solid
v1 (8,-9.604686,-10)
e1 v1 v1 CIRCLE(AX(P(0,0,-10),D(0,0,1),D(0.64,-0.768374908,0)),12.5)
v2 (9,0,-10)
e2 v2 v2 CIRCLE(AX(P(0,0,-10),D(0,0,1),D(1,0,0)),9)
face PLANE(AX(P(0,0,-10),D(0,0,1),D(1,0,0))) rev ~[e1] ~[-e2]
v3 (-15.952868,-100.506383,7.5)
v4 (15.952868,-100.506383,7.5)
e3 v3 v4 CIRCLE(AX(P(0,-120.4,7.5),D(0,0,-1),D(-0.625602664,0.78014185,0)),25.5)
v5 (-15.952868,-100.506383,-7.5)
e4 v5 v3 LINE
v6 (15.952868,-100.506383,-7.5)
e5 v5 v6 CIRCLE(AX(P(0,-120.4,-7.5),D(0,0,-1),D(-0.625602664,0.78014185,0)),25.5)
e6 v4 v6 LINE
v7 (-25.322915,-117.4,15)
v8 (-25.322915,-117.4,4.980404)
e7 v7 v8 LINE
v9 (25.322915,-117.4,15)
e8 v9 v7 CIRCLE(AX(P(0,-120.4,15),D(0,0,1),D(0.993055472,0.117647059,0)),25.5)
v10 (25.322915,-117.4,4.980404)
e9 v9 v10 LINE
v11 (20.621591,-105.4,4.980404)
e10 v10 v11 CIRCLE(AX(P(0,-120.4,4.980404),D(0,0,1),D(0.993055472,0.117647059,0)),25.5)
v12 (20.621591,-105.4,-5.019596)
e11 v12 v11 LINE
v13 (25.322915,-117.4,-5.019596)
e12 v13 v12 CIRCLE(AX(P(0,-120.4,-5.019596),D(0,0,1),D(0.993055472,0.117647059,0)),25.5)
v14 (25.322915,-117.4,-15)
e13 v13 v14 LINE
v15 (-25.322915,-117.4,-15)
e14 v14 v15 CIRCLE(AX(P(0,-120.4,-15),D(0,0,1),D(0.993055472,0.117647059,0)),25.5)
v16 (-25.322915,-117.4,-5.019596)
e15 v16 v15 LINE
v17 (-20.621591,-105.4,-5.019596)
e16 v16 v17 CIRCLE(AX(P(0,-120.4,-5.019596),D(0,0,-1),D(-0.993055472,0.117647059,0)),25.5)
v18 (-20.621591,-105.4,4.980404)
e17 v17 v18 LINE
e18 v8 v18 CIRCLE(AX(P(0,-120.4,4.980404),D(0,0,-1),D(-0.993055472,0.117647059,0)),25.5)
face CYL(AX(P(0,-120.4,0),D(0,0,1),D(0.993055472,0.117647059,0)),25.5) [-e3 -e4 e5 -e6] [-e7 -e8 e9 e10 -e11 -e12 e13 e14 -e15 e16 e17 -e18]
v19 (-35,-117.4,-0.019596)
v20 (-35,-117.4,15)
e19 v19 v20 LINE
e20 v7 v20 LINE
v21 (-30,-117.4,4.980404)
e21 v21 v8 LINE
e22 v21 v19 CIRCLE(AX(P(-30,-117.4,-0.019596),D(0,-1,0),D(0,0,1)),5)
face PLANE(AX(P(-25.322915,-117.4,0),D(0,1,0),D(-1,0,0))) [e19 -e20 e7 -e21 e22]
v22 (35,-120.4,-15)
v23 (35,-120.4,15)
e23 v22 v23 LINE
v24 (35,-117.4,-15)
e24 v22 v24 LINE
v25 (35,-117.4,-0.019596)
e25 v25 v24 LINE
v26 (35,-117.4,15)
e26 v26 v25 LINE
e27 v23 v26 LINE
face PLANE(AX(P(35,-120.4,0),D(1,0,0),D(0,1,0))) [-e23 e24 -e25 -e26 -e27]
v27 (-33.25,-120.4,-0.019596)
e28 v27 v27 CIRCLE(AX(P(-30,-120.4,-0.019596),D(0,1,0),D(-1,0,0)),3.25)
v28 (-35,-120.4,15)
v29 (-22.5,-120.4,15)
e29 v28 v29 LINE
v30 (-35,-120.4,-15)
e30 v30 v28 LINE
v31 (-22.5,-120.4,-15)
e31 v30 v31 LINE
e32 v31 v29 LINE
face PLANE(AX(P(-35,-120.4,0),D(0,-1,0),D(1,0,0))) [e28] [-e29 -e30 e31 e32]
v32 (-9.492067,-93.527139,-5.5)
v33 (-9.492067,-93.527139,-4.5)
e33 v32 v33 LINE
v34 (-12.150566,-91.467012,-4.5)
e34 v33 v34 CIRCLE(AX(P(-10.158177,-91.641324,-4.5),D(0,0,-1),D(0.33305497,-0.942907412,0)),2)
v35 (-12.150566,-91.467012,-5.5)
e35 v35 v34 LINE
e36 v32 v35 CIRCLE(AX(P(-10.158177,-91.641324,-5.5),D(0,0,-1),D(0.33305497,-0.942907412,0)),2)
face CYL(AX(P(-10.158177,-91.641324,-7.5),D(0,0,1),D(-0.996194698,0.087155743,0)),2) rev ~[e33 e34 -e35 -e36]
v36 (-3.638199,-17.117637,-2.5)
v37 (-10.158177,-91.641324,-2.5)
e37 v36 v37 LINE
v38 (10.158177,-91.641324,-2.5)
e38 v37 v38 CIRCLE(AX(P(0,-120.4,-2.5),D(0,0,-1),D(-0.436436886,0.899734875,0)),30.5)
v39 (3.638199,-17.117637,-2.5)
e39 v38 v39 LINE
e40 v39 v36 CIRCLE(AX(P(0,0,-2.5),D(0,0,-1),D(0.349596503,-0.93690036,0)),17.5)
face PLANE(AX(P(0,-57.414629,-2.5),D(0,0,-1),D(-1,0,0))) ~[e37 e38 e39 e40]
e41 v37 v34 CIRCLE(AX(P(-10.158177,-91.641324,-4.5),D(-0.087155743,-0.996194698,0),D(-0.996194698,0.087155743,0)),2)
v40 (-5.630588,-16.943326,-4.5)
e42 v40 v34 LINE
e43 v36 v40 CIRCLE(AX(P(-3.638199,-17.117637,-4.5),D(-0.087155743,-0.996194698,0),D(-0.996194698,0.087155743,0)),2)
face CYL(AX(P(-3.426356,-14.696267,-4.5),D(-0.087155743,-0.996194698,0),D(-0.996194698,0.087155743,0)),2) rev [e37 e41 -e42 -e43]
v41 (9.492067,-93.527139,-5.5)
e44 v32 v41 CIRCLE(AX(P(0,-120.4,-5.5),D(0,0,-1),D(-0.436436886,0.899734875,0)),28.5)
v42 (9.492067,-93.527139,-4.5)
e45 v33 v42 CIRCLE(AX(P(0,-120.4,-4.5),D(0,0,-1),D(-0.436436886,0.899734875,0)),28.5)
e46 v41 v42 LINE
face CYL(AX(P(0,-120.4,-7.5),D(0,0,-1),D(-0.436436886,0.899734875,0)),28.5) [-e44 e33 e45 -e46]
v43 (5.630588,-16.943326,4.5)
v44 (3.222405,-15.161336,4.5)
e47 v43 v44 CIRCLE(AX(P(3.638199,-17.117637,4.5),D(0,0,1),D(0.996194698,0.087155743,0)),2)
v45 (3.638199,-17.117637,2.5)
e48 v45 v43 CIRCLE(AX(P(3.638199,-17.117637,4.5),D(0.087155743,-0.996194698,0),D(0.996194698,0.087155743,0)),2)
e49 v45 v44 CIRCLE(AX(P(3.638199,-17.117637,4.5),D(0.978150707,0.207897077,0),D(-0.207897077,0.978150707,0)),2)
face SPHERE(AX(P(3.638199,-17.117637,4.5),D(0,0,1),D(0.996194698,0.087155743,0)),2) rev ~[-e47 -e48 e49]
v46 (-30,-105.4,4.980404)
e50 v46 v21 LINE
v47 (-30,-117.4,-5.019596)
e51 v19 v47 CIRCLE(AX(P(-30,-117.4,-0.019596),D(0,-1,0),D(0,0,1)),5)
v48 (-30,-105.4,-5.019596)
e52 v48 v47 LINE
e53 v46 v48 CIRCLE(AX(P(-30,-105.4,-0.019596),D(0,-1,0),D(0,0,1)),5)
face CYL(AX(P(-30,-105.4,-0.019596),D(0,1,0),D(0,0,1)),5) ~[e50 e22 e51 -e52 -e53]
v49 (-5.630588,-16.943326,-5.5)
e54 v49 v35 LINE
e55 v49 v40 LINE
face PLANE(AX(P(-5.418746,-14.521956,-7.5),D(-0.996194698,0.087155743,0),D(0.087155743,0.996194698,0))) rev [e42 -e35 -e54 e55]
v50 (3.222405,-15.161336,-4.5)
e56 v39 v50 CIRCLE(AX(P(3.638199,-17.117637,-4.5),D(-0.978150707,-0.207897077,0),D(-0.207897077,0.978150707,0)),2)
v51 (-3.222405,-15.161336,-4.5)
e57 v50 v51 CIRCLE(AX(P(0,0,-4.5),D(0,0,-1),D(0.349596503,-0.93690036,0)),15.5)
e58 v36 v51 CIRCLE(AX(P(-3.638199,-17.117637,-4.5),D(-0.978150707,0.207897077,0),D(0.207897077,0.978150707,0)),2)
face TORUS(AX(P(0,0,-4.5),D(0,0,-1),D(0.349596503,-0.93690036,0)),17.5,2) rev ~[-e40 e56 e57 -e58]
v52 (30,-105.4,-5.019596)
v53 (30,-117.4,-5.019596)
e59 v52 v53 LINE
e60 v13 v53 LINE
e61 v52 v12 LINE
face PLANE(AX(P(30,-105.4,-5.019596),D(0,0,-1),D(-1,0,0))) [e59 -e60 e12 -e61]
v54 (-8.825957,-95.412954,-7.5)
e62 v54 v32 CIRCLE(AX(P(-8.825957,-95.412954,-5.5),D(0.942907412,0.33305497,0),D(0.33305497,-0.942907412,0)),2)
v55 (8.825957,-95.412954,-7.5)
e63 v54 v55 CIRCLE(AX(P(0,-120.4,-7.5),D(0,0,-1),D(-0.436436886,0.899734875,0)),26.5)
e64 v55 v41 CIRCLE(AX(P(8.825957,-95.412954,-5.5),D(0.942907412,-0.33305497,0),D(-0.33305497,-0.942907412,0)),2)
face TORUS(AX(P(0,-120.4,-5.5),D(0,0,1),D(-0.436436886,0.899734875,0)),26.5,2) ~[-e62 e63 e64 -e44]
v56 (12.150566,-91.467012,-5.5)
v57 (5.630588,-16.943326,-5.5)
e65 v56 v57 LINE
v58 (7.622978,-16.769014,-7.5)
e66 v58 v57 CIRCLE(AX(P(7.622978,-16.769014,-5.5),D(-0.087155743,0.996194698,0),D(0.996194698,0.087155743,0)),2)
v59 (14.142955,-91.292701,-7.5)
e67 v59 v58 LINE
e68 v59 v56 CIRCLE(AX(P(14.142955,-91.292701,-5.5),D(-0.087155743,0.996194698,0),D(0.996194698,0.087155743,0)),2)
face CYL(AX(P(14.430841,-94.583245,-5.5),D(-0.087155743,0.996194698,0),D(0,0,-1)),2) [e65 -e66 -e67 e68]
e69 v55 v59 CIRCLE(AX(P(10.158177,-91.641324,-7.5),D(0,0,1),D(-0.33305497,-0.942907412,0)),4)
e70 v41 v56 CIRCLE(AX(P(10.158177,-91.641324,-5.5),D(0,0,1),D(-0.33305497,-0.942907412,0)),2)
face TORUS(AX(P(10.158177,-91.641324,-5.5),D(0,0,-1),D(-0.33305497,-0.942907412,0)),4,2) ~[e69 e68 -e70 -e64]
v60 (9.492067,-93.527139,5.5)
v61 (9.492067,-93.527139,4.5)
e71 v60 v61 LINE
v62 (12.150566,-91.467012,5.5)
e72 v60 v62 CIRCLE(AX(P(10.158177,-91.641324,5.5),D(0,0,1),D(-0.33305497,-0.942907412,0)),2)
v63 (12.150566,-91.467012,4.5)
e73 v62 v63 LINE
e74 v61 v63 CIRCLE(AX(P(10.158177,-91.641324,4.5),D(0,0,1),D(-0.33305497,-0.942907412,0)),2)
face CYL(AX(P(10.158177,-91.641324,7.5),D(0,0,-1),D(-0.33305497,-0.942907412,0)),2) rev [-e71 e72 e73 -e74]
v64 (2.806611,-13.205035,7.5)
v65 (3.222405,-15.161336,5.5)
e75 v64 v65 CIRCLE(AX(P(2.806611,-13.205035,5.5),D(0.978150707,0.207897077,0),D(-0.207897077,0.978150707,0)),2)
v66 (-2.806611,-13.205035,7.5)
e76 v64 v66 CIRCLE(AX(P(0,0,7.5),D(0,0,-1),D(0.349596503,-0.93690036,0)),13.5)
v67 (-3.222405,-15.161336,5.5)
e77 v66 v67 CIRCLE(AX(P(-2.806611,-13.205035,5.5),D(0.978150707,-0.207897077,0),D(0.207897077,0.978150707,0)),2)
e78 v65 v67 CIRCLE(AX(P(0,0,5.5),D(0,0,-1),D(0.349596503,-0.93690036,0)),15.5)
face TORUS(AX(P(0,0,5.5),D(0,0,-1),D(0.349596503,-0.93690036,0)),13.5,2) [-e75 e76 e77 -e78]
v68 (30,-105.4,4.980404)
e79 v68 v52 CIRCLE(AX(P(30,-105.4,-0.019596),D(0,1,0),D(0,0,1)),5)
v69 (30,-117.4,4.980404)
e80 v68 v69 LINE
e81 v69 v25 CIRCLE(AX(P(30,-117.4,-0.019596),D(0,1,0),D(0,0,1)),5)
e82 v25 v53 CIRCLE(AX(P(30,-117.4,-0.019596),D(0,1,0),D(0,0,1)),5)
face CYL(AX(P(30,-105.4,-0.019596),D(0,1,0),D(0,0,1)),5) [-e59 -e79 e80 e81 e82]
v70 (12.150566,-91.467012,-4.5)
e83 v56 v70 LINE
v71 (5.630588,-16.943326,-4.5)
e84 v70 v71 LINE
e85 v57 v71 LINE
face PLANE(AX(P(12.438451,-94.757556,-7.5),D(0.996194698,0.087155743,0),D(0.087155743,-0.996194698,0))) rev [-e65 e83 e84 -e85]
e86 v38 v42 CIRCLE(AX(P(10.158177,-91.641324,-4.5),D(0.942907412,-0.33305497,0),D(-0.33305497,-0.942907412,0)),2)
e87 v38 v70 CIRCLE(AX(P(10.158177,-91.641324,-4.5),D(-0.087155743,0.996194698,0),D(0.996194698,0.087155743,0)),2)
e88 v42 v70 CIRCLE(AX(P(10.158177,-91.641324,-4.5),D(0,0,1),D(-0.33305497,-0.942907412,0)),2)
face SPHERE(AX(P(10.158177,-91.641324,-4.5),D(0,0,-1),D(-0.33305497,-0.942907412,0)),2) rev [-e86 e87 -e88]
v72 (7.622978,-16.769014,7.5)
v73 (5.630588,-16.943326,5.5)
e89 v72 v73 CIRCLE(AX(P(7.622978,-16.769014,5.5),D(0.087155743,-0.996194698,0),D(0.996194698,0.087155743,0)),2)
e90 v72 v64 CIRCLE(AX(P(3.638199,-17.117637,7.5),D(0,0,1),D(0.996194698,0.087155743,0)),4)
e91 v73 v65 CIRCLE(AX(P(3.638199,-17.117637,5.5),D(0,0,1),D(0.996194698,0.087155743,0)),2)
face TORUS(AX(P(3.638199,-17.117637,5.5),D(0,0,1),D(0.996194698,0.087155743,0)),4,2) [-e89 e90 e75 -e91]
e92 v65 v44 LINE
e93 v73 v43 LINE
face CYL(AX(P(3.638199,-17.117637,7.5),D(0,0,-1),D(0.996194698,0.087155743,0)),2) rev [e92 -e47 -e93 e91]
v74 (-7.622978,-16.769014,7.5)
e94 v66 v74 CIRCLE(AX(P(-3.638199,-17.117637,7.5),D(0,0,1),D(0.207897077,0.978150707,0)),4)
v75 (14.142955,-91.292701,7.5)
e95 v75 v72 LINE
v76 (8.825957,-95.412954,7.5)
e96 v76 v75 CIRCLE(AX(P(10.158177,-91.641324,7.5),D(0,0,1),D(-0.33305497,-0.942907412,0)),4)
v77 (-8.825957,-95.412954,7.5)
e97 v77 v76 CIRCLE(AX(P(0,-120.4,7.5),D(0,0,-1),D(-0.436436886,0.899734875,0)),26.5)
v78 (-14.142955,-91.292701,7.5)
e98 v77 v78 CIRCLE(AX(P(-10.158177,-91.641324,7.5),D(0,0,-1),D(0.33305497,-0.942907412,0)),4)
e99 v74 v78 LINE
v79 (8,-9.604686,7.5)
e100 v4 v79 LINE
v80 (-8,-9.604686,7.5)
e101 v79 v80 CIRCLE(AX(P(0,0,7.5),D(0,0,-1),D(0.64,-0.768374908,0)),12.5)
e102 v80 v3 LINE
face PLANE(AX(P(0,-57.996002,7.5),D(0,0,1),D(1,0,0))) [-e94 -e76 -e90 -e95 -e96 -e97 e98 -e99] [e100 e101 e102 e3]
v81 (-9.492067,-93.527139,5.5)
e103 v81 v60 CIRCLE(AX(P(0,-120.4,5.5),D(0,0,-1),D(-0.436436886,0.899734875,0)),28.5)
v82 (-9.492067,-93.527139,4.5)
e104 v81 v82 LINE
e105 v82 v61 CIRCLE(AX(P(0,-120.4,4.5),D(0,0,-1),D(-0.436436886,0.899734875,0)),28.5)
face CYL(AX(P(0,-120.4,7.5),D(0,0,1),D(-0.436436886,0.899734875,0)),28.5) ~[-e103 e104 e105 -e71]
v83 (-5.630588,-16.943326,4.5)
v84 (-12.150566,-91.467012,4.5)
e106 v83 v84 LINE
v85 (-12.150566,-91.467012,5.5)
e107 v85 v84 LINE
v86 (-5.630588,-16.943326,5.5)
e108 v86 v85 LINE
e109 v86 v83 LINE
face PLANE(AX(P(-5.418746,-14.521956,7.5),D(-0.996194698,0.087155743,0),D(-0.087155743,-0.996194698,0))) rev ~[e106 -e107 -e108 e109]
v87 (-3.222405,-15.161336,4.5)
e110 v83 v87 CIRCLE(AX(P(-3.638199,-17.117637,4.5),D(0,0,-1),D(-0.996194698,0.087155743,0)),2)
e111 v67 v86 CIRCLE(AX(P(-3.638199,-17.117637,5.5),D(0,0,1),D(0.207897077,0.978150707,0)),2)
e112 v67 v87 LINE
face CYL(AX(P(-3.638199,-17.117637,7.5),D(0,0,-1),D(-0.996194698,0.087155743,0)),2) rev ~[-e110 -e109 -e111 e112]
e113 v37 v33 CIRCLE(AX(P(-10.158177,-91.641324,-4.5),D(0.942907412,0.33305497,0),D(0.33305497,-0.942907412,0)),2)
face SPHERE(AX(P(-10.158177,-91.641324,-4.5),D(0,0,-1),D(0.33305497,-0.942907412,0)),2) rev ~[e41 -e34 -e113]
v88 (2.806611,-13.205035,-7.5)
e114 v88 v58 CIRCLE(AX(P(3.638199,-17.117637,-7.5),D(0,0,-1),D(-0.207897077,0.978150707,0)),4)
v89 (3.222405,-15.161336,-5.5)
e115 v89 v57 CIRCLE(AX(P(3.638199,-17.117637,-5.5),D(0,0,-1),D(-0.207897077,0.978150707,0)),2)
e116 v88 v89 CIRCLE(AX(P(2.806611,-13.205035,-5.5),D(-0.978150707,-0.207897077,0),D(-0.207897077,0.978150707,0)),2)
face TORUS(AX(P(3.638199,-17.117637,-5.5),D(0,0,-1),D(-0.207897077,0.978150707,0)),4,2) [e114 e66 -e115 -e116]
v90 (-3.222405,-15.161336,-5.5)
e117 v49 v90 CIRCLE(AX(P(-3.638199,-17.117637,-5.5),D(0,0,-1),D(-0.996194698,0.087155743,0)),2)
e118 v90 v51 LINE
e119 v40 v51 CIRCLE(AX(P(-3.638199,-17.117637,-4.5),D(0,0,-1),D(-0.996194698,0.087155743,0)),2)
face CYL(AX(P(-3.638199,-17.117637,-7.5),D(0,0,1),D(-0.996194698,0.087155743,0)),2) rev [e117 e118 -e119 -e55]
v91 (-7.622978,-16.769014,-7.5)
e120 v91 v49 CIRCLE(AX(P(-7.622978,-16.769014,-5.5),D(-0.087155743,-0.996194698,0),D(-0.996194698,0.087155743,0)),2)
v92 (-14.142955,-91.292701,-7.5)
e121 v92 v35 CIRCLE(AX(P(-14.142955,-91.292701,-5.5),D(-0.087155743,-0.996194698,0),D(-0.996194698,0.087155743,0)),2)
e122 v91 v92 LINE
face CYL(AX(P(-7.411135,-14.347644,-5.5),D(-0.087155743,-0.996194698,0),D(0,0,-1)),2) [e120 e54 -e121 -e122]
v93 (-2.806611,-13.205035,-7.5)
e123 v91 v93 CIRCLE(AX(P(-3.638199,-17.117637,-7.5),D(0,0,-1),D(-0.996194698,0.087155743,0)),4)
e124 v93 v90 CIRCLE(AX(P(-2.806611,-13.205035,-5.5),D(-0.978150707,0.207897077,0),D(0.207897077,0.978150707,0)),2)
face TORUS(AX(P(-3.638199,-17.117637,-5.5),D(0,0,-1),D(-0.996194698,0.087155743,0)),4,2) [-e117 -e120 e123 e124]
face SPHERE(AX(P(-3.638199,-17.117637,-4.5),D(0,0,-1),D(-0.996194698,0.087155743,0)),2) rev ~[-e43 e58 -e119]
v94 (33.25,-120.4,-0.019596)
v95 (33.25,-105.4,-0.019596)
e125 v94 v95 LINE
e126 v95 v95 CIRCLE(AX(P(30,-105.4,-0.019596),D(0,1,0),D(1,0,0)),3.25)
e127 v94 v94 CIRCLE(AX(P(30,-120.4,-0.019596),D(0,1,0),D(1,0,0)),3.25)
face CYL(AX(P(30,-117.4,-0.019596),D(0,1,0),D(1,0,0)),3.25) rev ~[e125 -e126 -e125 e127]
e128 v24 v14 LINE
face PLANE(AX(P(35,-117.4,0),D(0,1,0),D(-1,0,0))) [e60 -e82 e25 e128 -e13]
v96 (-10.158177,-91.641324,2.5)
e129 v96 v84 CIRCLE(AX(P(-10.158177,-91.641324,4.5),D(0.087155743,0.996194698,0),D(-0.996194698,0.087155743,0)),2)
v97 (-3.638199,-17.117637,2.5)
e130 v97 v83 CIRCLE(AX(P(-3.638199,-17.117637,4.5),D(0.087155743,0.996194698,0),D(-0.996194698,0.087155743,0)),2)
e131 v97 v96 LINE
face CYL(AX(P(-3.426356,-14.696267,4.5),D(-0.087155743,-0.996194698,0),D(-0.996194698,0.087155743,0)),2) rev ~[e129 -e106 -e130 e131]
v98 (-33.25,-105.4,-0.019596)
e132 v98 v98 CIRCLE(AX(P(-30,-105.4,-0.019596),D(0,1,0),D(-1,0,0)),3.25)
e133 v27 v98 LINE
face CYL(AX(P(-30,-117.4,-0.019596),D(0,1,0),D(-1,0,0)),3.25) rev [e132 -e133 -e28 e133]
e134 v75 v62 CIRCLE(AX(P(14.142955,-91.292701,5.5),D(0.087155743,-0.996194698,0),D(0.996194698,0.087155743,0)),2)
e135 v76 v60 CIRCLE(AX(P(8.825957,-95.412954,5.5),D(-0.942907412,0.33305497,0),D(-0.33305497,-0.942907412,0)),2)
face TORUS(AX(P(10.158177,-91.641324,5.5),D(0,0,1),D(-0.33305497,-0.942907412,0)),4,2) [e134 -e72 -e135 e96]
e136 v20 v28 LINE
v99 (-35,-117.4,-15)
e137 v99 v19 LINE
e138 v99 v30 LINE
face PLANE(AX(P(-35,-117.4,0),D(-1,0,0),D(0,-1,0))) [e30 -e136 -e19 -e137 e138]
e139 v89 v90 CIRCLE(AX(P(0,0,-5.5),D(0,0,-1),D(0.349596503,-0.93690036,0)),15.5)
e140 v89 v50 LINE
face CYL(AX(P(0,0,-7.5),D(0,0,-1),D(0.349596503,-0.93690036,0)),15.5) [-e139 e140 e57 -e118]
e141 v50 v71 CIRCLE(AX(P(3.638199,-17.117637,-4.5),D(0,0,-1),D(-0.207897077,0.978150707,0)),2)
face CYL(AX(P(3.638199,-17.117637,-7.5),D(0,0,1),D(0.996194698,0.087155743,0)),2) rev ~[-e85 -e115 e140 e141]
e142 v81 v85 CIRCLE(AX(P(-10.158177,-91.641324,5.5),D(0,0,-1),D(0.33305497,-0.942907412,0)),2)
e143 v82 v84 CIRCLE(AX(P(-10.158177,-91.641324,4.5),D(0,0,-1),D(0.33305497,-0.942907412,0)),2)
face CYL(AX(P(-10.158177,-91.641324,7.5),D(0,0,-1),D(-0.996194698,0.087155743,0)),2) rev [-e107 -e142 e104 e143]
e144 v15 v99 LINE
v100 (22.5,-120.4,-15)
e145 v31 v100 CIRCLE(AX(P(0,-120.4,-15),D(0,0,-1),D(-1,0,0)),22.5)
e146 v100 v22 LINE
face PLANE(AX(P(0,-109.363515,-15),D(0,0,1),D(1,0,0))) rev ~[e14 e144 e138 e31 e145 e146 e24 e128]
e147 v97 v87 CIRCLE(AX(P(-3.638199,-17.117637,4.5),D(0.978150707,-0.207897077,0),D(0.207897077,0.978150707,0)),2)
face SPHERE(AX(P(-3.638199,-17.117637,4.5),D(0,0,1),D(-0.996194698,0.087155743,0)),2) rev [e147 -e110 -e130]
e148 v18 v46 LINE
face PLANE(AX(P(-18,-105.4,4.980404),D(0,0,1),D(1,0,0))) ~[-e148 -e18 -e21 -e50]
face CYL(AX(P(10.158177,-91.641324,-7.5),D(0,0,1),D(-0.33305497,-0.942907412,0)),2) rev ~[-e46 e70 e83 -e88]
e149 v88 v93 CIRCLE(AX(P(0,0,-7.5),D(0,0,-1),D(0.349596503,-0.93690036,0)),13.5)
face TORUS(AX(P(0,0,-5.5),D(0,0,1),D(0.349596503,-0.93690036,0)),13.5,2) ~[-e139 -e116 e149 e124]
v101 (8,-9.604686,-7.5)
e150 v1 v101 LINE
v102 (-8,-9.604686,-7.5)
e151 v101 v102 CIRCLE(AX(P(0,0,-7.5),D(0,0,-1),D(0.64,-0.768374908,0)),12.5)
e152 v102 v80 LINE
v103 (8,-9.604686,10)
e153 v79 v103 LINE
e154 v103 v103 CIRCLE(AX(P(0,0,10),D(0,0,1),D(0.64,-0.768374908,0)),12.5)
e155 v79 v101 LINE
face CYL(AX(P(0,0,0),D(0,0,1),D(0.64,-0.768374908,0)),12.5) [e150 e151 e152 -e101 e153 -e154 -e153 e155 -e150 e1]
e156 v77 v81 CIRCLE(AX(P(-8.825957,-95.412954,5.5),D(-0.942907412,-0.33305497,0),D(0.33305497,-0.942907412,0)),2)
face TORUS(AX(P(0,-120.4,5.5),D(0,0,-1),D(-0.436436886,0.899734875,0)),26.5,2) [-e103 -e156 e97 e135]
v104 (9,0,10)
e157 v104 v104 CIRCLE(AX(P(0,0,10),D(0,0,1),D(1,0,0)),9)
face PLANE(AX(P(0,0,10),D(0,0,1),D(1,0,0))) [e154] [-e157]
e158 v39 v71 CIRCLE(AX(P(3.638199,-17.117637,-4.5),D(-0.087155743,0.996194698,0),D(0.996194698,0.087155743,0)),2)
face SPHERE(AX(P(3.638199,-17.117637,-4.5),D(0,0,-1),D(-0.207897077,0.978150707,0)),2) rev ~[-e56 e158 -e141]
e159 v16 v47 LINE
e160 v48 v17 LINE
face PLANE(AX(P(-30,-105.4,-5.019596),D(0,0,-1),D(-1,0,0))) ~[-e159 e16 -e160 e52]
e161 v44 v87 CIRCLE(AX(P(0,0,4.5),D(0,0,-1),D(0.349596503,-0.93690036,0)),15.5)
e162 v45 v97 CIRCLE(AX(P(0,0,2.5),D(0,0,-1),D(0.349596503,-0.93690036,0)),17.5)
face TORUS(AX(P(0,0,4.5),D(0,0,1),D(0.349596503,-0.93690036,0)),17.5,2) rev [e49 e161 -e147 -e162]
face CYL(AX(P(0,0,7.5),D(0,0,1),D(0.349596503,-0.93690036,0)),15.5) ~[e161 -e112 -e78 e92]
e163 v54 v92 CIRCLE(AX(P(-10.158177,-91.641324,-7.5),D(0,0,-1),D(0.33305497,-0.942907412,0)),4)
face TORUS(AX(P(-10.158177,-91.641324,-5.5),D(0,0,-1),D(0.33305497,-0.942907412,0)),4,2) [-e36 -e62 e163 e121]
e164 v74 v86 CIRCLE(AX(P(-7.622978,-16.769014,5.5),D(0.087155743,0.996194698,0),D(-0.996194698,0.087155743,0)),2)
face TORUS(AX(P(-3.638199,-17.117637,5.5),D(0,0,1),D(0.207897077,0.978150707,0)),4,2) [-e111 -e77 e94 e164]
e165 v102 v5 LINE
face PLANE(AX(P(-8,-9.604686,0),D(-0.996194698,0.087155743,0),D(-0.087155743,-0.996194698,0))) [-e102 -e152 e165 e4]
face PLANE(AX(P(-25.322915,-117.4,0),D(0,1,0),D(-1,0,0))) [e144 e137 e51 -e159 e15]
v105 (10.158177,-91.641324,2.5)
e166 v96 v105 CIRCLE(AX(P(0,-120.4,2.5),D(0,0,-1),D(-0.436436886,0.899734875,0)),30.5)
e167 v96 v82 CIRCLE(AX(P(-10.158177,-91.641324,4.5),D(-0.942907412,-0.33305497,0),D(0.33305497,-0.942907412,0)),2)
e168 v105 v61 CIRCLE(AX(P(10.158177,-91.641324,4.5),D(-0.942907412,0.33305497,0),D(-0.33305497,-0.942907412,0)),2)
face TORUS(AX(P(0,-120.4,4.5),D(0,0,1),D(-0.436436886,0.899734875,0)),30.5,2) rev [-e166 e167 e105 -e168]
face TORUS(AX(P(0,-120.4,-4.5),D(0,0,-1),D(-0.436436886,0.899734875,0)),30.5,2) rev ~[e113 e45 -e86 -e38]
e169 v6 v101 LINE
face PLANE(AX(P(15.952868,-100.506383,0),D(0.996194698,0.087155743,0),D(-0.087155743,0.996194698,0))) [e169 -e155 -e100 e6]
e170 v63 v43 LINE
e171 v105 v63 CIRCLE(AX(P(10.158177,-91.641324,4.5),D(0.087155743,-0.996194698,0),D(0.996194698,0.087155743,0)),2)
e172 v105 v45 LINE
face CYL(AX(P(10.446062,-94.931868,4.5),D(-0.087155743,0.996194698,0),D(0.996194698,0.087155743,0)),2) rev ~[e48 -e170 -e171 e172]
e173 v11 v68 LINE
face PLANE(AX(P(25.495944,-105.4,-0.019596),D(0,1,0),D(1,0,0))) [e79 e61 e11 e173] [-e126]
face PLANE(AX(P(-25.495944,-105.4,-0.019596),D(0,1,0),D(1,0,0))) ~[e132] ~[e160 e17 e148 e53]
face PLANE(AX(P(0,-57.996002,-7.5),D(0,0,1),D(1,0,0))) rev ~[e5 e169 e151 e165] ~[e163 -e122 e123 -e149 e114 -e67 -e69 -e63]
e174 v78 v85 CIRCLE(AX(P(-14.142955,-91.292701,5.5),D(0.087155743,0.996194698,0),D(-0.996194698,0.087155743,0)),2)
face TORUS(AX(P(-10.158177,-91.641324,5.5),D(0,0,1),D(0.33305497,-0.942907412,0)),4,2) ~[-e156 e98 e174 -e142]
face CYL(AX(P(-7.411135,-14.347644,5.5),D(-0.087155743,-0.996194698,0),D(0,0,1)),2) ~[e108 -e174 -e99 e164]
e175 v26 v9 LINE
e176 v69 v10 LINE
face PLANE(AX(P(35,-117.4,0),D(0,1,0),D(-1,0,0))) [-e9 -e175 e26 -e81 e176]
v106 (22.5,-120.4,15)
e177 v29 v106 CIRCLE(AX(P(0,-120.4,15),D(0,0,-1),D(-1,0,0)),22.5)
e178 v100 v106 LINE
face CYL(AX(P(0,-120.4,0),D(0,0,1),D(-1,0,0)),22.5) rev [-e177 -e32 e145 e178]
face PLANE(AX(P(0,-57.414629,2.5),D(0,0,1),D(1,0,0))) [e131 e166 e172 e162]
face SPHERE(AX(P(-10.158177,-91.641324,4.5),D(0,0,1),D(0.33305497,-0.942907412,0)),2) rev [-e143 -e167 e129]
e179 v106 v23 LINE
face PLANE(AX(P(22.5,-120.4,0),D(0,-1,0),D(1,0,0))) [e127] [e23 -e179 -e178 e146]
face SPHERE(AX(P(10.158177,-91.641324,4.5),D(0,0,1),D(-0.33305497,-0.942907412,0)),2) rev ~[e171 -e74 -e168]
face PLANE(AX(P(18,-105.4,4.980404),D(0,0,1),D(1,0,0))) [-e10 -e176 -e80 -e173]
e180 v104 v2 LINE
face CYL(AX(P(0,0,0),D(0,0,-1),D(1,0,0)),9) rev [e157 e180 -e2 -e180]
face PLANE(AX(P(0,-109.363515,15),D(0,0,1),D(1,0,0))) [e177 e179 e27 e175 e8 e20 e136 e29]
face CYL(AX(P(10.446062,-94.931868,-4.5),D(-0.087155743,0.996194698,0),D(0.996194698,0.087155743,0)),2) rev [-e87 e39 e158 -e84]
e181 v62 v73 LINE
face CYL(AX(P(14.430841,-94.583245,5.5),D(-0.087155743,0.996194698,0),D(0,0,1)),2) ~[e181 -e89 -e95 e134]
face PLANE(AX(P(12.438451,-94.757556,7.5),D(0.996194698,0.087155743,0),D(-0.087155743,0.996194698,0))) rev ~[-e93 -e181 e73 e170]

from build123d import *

# Parameters (mm, degrees)
SKETCH2_R           = 9
BOSS_EXTRUDE1_DEPTH = 10
BOSS_EXTRUDE2_DEPTH = 15
BOSS_EXTRUDE3_DEPTH = 7.5
CUT_EXTRUDE2_START  = 7.5
CUT_EXTRUDE2_DEPTH  = 4.999999999999999
BOSS_EXTRUDE8_REACH = 149.366
BOSS_EXTRUDE8_START = 12
SKETCH4_14_R        = 3.2499999999999973
CUT_EXTRUDE3_DEPTH  = 136.3662070089873
FILLET1_R           = 2
FILLET5_R           = 2


with BuildPart() as part:
    # Sketch2 → Boss-Extrude1 (new, symmetric)
    with BuildSketch(Plane.XY):
        with BuildLine():
            ThreePointArc((12.5, 0), (-5.303300858899107, 11.31923142267177), (-7.999999999999999, -9.604686356149275))
            ThreePointArc((-7.999999999999999, -9.604686356149275), (-2.3e-15, -12.5), (7.9999999999999964, -9.604686356149276))
            ThreePointArc((7.9999999999999964, -9.604686356149276), (11.319231422671766, -5.3033008588991155), (12.5, -3.06e-15))
        make_face()
        Circle(SKETCH2_R, mode=Mode.SUBTRACT)
    extrude(amount=BOSS_EXTRUDE1_DEPTH, both=True)



with BuildPart() as body_2:
    # Sketch2<3> → Boss-Extrude2 (new, symmetric)
    with BuildSketch(Plane.XY):
        with BuildLine():
            Line((-25.322914524201188, -117.4), (-35, -117.4))
            Line((-35, -117.4), (-35, -120.4))
            Line((-35, -120.4), (-22.49999999999999, -120.4))
            ThreePointArc((-22.499999999999986, -120.4), (1.194e-14, -97.9), (22.500000000000014, -120.4))
            Line((22.500000000000018, -120.4), (35, -120.4))
            Line((35, -120.4), (35, -117.4))
            Line((35, -117.4), (25.322914524201217, -117.4))
            ThreePointArc((25.322914524201213, -117.4), (1.643e-14, -94.9), (-25.32291452420118, -117.4))
        make_face()
    extrude(amount=BOSS_EXTRUDE2_DEPTH, both=True)


with BuildPart() as part_1:
    add(part.part)

    add(body_2.part)  # Boss-Extrude3 merges body 2
    # Sketch2<4> → Boss-Extrude3 (add, symmetric)
    with BuildSketch(Plane.XY):
        with BuildLine():
            ThreePointArc((8, -9.604686356149275), (1.78e-15, -12.5), (-8, -9.604686356149275))
            Line((-7.999999999999998, -9.604686356149276), (-15.952867935585848, -100.50638281684913))
            ThreePointArc((-15.952867935585854, -100.50638281684911), (1.688e-14, -94.9), (15.952867935585882, -100.50638281684911))
            Line((15.952867935585875, -100.50638281684913), (8.000000000000002, -9.604686356149275))
        make_face()
    extrude(amount=BOSS_EXTRUDE3_DEPTH, both=True)

    # Sketch3 → Cut-Extrude2 (cut)
    with BuildSketch(Plane.XY.offset(CUT_EXTRUDE2_START)):
        with BuildLine():
            Line((-5.4187458002182325, -14.521955582930875), (-12.438451254570133, -94.75755607615214))
            ThreePointArc((-12.438451254570133, -94.75755607615214), (1.649e-14, -91.9), (12.438451254570163, -94.75755607615214))
            Line((12.438451254570163, -94.75755607615214), (5.418745800218236, -14.521955582930875))
            ThreePointArc((5.418745800218236, -14.521955582930875), (9.5e-16, -15.499999999999998), (-5.4187458002182325, -14.521955582930875))
        make_face()
    cut_extrude2 = extrude(amount=-CUT_EXTRUDE2_DEPTH, mode=Mode.SUBTRACT)

    # Mirror1: Cut-Extrude2 across plane
    add(cut_extrude2.mirror(Plane.XY), mode=Mode.SUBTRACT)

    # Sketch4 → Boss-Extrude8 (add, up to next)
    with BuildSketch(Plane(origin=(0, -117.4, 0), x_dir=(1, 0, 0), z_dir=(0, 1, 0)).offset(BOSS_EXTRUDE8_START), mode=Mode.PRIVATE) as boss_extrude8_sk1:
        with BuildLine():
            Line((18.000000000000004, 5.0195959671732515), (18.000000000000004, -4.9804040328267485))
            Line((18.000000000000004, -4.980404032826749), (30.000000000000004, -4.980404032826749))
            ThreePointArc((30.000000000000004, -4.980404032826749), (35, 0.01959596717325077), (30.000000000000004, 5.019595967173251))
            Line((30.000000000000004, 5.019595967173251), (18.000000000000004, 5.0195959671732515))
        make_face()
    boss_extrude8_tool1 = extrude(boss_extrude8_sk1.sketch, amount=-BOSS_EXTRUDE8_REACH, mode=Mode.PRIVATE) - part_1.part
    boss_extrude8 = boss_extrude8_tool1.solids().sort_by_distance((26.002593, -105.4, -0.019596))[0]
    add(boss_extrude8)

    # Sketch4<14> → Cut-Extrude3 (cut, symmetric)
    with BuildSketch(Plane(origin=(0, -117.4, 0), x_dir=(1, 0, 0), z_dir=(0, 1, 0))):
        with Locations((30.000000000000004, 0.01959596717325107)):
            Circle(SKETCH4_14_R)
    cut_extrude3 = extrude(amount=CUT_EXTRUDE3_DEPTH, both=True, mode=Mode.SUBTRACT)

    # Mirror2: Boss-Extrude8, Cut-Extrude3 across plane
    add(boss_extrude8.mirror(Plane(origin=(0, 0, 0), x_dir=(0, 0, 1), z_dir=(1, 0, 0))))
    add(cut_extrude3.mirror(Plane(origin=(0, 0, 0), x_dir=(0, 0, 1), z_dir=(1, 0, 0))), mode=Mode.SUBTRACT)

    # Fillet1
    fillet1_edges = [part_1.edges().sort_by_distance(p)[0] for p in [
        (12.438451254570161, -94.75755607615214, -5),
        (-12.438451254570133, -94.75755607615214, -5),
        (1.199e-14, -91.9, -7.5),
        (1.199e-14, -91.9, -2.500000000000001),
        (8.928598527394199, -54.63975582954151, -7.5),
        (8.928598527394199, -54.63975582954151, -2.500000000000001),
        (5.418745800218236, -14.521955582930875, -5),
        (-5.418745800218234, -14.521955582930875, -5),
        (-8.928598527394183, -54.639755829541514, -2.500000000000001),
        (0, -15.499999999999996, -2.500000000000001),
        (-8.928598527394183, -54.639755829541514, -7.5),
        (0, -15.499999999999996, -7.5),
    ]]
    fillet(fillet1_edges, radius=FILLET1_R)

    # Fillet5
    fillet5_edges = [part_1.edges().sort_by_distance(p)[0] for p in [
        (-5.418745800218234, -14.521955582930875, 5),
        (5.418745800218236, -14.521955582930875, 5),
        (12.438451254570161, -94.75755607615214, 5),
        (-12.438451254570133, -94.75755607615214, 5),
        (1.199e-14, -91.9, 2.500000000000001),
        (1.199e-14, -91.9, 7.5),
        (8.9285985273942, -54.63975582954151, 2.500000000000001),
        (8.9285985273942, -54.63975582954151, 7.5),
        (0, -15.499999999999996, 7.5),
        (-8.928598527394183, -54.639755829541514, 2.500000000000001),
        (-8.928598527394183, -54.639755829541514, 7.5),
        (0, -15.499999999999996, 2.500000000000001),
    ]]
    fillet(fillet5_edges, radius=FILLET5_R)


solid = part_1.part
